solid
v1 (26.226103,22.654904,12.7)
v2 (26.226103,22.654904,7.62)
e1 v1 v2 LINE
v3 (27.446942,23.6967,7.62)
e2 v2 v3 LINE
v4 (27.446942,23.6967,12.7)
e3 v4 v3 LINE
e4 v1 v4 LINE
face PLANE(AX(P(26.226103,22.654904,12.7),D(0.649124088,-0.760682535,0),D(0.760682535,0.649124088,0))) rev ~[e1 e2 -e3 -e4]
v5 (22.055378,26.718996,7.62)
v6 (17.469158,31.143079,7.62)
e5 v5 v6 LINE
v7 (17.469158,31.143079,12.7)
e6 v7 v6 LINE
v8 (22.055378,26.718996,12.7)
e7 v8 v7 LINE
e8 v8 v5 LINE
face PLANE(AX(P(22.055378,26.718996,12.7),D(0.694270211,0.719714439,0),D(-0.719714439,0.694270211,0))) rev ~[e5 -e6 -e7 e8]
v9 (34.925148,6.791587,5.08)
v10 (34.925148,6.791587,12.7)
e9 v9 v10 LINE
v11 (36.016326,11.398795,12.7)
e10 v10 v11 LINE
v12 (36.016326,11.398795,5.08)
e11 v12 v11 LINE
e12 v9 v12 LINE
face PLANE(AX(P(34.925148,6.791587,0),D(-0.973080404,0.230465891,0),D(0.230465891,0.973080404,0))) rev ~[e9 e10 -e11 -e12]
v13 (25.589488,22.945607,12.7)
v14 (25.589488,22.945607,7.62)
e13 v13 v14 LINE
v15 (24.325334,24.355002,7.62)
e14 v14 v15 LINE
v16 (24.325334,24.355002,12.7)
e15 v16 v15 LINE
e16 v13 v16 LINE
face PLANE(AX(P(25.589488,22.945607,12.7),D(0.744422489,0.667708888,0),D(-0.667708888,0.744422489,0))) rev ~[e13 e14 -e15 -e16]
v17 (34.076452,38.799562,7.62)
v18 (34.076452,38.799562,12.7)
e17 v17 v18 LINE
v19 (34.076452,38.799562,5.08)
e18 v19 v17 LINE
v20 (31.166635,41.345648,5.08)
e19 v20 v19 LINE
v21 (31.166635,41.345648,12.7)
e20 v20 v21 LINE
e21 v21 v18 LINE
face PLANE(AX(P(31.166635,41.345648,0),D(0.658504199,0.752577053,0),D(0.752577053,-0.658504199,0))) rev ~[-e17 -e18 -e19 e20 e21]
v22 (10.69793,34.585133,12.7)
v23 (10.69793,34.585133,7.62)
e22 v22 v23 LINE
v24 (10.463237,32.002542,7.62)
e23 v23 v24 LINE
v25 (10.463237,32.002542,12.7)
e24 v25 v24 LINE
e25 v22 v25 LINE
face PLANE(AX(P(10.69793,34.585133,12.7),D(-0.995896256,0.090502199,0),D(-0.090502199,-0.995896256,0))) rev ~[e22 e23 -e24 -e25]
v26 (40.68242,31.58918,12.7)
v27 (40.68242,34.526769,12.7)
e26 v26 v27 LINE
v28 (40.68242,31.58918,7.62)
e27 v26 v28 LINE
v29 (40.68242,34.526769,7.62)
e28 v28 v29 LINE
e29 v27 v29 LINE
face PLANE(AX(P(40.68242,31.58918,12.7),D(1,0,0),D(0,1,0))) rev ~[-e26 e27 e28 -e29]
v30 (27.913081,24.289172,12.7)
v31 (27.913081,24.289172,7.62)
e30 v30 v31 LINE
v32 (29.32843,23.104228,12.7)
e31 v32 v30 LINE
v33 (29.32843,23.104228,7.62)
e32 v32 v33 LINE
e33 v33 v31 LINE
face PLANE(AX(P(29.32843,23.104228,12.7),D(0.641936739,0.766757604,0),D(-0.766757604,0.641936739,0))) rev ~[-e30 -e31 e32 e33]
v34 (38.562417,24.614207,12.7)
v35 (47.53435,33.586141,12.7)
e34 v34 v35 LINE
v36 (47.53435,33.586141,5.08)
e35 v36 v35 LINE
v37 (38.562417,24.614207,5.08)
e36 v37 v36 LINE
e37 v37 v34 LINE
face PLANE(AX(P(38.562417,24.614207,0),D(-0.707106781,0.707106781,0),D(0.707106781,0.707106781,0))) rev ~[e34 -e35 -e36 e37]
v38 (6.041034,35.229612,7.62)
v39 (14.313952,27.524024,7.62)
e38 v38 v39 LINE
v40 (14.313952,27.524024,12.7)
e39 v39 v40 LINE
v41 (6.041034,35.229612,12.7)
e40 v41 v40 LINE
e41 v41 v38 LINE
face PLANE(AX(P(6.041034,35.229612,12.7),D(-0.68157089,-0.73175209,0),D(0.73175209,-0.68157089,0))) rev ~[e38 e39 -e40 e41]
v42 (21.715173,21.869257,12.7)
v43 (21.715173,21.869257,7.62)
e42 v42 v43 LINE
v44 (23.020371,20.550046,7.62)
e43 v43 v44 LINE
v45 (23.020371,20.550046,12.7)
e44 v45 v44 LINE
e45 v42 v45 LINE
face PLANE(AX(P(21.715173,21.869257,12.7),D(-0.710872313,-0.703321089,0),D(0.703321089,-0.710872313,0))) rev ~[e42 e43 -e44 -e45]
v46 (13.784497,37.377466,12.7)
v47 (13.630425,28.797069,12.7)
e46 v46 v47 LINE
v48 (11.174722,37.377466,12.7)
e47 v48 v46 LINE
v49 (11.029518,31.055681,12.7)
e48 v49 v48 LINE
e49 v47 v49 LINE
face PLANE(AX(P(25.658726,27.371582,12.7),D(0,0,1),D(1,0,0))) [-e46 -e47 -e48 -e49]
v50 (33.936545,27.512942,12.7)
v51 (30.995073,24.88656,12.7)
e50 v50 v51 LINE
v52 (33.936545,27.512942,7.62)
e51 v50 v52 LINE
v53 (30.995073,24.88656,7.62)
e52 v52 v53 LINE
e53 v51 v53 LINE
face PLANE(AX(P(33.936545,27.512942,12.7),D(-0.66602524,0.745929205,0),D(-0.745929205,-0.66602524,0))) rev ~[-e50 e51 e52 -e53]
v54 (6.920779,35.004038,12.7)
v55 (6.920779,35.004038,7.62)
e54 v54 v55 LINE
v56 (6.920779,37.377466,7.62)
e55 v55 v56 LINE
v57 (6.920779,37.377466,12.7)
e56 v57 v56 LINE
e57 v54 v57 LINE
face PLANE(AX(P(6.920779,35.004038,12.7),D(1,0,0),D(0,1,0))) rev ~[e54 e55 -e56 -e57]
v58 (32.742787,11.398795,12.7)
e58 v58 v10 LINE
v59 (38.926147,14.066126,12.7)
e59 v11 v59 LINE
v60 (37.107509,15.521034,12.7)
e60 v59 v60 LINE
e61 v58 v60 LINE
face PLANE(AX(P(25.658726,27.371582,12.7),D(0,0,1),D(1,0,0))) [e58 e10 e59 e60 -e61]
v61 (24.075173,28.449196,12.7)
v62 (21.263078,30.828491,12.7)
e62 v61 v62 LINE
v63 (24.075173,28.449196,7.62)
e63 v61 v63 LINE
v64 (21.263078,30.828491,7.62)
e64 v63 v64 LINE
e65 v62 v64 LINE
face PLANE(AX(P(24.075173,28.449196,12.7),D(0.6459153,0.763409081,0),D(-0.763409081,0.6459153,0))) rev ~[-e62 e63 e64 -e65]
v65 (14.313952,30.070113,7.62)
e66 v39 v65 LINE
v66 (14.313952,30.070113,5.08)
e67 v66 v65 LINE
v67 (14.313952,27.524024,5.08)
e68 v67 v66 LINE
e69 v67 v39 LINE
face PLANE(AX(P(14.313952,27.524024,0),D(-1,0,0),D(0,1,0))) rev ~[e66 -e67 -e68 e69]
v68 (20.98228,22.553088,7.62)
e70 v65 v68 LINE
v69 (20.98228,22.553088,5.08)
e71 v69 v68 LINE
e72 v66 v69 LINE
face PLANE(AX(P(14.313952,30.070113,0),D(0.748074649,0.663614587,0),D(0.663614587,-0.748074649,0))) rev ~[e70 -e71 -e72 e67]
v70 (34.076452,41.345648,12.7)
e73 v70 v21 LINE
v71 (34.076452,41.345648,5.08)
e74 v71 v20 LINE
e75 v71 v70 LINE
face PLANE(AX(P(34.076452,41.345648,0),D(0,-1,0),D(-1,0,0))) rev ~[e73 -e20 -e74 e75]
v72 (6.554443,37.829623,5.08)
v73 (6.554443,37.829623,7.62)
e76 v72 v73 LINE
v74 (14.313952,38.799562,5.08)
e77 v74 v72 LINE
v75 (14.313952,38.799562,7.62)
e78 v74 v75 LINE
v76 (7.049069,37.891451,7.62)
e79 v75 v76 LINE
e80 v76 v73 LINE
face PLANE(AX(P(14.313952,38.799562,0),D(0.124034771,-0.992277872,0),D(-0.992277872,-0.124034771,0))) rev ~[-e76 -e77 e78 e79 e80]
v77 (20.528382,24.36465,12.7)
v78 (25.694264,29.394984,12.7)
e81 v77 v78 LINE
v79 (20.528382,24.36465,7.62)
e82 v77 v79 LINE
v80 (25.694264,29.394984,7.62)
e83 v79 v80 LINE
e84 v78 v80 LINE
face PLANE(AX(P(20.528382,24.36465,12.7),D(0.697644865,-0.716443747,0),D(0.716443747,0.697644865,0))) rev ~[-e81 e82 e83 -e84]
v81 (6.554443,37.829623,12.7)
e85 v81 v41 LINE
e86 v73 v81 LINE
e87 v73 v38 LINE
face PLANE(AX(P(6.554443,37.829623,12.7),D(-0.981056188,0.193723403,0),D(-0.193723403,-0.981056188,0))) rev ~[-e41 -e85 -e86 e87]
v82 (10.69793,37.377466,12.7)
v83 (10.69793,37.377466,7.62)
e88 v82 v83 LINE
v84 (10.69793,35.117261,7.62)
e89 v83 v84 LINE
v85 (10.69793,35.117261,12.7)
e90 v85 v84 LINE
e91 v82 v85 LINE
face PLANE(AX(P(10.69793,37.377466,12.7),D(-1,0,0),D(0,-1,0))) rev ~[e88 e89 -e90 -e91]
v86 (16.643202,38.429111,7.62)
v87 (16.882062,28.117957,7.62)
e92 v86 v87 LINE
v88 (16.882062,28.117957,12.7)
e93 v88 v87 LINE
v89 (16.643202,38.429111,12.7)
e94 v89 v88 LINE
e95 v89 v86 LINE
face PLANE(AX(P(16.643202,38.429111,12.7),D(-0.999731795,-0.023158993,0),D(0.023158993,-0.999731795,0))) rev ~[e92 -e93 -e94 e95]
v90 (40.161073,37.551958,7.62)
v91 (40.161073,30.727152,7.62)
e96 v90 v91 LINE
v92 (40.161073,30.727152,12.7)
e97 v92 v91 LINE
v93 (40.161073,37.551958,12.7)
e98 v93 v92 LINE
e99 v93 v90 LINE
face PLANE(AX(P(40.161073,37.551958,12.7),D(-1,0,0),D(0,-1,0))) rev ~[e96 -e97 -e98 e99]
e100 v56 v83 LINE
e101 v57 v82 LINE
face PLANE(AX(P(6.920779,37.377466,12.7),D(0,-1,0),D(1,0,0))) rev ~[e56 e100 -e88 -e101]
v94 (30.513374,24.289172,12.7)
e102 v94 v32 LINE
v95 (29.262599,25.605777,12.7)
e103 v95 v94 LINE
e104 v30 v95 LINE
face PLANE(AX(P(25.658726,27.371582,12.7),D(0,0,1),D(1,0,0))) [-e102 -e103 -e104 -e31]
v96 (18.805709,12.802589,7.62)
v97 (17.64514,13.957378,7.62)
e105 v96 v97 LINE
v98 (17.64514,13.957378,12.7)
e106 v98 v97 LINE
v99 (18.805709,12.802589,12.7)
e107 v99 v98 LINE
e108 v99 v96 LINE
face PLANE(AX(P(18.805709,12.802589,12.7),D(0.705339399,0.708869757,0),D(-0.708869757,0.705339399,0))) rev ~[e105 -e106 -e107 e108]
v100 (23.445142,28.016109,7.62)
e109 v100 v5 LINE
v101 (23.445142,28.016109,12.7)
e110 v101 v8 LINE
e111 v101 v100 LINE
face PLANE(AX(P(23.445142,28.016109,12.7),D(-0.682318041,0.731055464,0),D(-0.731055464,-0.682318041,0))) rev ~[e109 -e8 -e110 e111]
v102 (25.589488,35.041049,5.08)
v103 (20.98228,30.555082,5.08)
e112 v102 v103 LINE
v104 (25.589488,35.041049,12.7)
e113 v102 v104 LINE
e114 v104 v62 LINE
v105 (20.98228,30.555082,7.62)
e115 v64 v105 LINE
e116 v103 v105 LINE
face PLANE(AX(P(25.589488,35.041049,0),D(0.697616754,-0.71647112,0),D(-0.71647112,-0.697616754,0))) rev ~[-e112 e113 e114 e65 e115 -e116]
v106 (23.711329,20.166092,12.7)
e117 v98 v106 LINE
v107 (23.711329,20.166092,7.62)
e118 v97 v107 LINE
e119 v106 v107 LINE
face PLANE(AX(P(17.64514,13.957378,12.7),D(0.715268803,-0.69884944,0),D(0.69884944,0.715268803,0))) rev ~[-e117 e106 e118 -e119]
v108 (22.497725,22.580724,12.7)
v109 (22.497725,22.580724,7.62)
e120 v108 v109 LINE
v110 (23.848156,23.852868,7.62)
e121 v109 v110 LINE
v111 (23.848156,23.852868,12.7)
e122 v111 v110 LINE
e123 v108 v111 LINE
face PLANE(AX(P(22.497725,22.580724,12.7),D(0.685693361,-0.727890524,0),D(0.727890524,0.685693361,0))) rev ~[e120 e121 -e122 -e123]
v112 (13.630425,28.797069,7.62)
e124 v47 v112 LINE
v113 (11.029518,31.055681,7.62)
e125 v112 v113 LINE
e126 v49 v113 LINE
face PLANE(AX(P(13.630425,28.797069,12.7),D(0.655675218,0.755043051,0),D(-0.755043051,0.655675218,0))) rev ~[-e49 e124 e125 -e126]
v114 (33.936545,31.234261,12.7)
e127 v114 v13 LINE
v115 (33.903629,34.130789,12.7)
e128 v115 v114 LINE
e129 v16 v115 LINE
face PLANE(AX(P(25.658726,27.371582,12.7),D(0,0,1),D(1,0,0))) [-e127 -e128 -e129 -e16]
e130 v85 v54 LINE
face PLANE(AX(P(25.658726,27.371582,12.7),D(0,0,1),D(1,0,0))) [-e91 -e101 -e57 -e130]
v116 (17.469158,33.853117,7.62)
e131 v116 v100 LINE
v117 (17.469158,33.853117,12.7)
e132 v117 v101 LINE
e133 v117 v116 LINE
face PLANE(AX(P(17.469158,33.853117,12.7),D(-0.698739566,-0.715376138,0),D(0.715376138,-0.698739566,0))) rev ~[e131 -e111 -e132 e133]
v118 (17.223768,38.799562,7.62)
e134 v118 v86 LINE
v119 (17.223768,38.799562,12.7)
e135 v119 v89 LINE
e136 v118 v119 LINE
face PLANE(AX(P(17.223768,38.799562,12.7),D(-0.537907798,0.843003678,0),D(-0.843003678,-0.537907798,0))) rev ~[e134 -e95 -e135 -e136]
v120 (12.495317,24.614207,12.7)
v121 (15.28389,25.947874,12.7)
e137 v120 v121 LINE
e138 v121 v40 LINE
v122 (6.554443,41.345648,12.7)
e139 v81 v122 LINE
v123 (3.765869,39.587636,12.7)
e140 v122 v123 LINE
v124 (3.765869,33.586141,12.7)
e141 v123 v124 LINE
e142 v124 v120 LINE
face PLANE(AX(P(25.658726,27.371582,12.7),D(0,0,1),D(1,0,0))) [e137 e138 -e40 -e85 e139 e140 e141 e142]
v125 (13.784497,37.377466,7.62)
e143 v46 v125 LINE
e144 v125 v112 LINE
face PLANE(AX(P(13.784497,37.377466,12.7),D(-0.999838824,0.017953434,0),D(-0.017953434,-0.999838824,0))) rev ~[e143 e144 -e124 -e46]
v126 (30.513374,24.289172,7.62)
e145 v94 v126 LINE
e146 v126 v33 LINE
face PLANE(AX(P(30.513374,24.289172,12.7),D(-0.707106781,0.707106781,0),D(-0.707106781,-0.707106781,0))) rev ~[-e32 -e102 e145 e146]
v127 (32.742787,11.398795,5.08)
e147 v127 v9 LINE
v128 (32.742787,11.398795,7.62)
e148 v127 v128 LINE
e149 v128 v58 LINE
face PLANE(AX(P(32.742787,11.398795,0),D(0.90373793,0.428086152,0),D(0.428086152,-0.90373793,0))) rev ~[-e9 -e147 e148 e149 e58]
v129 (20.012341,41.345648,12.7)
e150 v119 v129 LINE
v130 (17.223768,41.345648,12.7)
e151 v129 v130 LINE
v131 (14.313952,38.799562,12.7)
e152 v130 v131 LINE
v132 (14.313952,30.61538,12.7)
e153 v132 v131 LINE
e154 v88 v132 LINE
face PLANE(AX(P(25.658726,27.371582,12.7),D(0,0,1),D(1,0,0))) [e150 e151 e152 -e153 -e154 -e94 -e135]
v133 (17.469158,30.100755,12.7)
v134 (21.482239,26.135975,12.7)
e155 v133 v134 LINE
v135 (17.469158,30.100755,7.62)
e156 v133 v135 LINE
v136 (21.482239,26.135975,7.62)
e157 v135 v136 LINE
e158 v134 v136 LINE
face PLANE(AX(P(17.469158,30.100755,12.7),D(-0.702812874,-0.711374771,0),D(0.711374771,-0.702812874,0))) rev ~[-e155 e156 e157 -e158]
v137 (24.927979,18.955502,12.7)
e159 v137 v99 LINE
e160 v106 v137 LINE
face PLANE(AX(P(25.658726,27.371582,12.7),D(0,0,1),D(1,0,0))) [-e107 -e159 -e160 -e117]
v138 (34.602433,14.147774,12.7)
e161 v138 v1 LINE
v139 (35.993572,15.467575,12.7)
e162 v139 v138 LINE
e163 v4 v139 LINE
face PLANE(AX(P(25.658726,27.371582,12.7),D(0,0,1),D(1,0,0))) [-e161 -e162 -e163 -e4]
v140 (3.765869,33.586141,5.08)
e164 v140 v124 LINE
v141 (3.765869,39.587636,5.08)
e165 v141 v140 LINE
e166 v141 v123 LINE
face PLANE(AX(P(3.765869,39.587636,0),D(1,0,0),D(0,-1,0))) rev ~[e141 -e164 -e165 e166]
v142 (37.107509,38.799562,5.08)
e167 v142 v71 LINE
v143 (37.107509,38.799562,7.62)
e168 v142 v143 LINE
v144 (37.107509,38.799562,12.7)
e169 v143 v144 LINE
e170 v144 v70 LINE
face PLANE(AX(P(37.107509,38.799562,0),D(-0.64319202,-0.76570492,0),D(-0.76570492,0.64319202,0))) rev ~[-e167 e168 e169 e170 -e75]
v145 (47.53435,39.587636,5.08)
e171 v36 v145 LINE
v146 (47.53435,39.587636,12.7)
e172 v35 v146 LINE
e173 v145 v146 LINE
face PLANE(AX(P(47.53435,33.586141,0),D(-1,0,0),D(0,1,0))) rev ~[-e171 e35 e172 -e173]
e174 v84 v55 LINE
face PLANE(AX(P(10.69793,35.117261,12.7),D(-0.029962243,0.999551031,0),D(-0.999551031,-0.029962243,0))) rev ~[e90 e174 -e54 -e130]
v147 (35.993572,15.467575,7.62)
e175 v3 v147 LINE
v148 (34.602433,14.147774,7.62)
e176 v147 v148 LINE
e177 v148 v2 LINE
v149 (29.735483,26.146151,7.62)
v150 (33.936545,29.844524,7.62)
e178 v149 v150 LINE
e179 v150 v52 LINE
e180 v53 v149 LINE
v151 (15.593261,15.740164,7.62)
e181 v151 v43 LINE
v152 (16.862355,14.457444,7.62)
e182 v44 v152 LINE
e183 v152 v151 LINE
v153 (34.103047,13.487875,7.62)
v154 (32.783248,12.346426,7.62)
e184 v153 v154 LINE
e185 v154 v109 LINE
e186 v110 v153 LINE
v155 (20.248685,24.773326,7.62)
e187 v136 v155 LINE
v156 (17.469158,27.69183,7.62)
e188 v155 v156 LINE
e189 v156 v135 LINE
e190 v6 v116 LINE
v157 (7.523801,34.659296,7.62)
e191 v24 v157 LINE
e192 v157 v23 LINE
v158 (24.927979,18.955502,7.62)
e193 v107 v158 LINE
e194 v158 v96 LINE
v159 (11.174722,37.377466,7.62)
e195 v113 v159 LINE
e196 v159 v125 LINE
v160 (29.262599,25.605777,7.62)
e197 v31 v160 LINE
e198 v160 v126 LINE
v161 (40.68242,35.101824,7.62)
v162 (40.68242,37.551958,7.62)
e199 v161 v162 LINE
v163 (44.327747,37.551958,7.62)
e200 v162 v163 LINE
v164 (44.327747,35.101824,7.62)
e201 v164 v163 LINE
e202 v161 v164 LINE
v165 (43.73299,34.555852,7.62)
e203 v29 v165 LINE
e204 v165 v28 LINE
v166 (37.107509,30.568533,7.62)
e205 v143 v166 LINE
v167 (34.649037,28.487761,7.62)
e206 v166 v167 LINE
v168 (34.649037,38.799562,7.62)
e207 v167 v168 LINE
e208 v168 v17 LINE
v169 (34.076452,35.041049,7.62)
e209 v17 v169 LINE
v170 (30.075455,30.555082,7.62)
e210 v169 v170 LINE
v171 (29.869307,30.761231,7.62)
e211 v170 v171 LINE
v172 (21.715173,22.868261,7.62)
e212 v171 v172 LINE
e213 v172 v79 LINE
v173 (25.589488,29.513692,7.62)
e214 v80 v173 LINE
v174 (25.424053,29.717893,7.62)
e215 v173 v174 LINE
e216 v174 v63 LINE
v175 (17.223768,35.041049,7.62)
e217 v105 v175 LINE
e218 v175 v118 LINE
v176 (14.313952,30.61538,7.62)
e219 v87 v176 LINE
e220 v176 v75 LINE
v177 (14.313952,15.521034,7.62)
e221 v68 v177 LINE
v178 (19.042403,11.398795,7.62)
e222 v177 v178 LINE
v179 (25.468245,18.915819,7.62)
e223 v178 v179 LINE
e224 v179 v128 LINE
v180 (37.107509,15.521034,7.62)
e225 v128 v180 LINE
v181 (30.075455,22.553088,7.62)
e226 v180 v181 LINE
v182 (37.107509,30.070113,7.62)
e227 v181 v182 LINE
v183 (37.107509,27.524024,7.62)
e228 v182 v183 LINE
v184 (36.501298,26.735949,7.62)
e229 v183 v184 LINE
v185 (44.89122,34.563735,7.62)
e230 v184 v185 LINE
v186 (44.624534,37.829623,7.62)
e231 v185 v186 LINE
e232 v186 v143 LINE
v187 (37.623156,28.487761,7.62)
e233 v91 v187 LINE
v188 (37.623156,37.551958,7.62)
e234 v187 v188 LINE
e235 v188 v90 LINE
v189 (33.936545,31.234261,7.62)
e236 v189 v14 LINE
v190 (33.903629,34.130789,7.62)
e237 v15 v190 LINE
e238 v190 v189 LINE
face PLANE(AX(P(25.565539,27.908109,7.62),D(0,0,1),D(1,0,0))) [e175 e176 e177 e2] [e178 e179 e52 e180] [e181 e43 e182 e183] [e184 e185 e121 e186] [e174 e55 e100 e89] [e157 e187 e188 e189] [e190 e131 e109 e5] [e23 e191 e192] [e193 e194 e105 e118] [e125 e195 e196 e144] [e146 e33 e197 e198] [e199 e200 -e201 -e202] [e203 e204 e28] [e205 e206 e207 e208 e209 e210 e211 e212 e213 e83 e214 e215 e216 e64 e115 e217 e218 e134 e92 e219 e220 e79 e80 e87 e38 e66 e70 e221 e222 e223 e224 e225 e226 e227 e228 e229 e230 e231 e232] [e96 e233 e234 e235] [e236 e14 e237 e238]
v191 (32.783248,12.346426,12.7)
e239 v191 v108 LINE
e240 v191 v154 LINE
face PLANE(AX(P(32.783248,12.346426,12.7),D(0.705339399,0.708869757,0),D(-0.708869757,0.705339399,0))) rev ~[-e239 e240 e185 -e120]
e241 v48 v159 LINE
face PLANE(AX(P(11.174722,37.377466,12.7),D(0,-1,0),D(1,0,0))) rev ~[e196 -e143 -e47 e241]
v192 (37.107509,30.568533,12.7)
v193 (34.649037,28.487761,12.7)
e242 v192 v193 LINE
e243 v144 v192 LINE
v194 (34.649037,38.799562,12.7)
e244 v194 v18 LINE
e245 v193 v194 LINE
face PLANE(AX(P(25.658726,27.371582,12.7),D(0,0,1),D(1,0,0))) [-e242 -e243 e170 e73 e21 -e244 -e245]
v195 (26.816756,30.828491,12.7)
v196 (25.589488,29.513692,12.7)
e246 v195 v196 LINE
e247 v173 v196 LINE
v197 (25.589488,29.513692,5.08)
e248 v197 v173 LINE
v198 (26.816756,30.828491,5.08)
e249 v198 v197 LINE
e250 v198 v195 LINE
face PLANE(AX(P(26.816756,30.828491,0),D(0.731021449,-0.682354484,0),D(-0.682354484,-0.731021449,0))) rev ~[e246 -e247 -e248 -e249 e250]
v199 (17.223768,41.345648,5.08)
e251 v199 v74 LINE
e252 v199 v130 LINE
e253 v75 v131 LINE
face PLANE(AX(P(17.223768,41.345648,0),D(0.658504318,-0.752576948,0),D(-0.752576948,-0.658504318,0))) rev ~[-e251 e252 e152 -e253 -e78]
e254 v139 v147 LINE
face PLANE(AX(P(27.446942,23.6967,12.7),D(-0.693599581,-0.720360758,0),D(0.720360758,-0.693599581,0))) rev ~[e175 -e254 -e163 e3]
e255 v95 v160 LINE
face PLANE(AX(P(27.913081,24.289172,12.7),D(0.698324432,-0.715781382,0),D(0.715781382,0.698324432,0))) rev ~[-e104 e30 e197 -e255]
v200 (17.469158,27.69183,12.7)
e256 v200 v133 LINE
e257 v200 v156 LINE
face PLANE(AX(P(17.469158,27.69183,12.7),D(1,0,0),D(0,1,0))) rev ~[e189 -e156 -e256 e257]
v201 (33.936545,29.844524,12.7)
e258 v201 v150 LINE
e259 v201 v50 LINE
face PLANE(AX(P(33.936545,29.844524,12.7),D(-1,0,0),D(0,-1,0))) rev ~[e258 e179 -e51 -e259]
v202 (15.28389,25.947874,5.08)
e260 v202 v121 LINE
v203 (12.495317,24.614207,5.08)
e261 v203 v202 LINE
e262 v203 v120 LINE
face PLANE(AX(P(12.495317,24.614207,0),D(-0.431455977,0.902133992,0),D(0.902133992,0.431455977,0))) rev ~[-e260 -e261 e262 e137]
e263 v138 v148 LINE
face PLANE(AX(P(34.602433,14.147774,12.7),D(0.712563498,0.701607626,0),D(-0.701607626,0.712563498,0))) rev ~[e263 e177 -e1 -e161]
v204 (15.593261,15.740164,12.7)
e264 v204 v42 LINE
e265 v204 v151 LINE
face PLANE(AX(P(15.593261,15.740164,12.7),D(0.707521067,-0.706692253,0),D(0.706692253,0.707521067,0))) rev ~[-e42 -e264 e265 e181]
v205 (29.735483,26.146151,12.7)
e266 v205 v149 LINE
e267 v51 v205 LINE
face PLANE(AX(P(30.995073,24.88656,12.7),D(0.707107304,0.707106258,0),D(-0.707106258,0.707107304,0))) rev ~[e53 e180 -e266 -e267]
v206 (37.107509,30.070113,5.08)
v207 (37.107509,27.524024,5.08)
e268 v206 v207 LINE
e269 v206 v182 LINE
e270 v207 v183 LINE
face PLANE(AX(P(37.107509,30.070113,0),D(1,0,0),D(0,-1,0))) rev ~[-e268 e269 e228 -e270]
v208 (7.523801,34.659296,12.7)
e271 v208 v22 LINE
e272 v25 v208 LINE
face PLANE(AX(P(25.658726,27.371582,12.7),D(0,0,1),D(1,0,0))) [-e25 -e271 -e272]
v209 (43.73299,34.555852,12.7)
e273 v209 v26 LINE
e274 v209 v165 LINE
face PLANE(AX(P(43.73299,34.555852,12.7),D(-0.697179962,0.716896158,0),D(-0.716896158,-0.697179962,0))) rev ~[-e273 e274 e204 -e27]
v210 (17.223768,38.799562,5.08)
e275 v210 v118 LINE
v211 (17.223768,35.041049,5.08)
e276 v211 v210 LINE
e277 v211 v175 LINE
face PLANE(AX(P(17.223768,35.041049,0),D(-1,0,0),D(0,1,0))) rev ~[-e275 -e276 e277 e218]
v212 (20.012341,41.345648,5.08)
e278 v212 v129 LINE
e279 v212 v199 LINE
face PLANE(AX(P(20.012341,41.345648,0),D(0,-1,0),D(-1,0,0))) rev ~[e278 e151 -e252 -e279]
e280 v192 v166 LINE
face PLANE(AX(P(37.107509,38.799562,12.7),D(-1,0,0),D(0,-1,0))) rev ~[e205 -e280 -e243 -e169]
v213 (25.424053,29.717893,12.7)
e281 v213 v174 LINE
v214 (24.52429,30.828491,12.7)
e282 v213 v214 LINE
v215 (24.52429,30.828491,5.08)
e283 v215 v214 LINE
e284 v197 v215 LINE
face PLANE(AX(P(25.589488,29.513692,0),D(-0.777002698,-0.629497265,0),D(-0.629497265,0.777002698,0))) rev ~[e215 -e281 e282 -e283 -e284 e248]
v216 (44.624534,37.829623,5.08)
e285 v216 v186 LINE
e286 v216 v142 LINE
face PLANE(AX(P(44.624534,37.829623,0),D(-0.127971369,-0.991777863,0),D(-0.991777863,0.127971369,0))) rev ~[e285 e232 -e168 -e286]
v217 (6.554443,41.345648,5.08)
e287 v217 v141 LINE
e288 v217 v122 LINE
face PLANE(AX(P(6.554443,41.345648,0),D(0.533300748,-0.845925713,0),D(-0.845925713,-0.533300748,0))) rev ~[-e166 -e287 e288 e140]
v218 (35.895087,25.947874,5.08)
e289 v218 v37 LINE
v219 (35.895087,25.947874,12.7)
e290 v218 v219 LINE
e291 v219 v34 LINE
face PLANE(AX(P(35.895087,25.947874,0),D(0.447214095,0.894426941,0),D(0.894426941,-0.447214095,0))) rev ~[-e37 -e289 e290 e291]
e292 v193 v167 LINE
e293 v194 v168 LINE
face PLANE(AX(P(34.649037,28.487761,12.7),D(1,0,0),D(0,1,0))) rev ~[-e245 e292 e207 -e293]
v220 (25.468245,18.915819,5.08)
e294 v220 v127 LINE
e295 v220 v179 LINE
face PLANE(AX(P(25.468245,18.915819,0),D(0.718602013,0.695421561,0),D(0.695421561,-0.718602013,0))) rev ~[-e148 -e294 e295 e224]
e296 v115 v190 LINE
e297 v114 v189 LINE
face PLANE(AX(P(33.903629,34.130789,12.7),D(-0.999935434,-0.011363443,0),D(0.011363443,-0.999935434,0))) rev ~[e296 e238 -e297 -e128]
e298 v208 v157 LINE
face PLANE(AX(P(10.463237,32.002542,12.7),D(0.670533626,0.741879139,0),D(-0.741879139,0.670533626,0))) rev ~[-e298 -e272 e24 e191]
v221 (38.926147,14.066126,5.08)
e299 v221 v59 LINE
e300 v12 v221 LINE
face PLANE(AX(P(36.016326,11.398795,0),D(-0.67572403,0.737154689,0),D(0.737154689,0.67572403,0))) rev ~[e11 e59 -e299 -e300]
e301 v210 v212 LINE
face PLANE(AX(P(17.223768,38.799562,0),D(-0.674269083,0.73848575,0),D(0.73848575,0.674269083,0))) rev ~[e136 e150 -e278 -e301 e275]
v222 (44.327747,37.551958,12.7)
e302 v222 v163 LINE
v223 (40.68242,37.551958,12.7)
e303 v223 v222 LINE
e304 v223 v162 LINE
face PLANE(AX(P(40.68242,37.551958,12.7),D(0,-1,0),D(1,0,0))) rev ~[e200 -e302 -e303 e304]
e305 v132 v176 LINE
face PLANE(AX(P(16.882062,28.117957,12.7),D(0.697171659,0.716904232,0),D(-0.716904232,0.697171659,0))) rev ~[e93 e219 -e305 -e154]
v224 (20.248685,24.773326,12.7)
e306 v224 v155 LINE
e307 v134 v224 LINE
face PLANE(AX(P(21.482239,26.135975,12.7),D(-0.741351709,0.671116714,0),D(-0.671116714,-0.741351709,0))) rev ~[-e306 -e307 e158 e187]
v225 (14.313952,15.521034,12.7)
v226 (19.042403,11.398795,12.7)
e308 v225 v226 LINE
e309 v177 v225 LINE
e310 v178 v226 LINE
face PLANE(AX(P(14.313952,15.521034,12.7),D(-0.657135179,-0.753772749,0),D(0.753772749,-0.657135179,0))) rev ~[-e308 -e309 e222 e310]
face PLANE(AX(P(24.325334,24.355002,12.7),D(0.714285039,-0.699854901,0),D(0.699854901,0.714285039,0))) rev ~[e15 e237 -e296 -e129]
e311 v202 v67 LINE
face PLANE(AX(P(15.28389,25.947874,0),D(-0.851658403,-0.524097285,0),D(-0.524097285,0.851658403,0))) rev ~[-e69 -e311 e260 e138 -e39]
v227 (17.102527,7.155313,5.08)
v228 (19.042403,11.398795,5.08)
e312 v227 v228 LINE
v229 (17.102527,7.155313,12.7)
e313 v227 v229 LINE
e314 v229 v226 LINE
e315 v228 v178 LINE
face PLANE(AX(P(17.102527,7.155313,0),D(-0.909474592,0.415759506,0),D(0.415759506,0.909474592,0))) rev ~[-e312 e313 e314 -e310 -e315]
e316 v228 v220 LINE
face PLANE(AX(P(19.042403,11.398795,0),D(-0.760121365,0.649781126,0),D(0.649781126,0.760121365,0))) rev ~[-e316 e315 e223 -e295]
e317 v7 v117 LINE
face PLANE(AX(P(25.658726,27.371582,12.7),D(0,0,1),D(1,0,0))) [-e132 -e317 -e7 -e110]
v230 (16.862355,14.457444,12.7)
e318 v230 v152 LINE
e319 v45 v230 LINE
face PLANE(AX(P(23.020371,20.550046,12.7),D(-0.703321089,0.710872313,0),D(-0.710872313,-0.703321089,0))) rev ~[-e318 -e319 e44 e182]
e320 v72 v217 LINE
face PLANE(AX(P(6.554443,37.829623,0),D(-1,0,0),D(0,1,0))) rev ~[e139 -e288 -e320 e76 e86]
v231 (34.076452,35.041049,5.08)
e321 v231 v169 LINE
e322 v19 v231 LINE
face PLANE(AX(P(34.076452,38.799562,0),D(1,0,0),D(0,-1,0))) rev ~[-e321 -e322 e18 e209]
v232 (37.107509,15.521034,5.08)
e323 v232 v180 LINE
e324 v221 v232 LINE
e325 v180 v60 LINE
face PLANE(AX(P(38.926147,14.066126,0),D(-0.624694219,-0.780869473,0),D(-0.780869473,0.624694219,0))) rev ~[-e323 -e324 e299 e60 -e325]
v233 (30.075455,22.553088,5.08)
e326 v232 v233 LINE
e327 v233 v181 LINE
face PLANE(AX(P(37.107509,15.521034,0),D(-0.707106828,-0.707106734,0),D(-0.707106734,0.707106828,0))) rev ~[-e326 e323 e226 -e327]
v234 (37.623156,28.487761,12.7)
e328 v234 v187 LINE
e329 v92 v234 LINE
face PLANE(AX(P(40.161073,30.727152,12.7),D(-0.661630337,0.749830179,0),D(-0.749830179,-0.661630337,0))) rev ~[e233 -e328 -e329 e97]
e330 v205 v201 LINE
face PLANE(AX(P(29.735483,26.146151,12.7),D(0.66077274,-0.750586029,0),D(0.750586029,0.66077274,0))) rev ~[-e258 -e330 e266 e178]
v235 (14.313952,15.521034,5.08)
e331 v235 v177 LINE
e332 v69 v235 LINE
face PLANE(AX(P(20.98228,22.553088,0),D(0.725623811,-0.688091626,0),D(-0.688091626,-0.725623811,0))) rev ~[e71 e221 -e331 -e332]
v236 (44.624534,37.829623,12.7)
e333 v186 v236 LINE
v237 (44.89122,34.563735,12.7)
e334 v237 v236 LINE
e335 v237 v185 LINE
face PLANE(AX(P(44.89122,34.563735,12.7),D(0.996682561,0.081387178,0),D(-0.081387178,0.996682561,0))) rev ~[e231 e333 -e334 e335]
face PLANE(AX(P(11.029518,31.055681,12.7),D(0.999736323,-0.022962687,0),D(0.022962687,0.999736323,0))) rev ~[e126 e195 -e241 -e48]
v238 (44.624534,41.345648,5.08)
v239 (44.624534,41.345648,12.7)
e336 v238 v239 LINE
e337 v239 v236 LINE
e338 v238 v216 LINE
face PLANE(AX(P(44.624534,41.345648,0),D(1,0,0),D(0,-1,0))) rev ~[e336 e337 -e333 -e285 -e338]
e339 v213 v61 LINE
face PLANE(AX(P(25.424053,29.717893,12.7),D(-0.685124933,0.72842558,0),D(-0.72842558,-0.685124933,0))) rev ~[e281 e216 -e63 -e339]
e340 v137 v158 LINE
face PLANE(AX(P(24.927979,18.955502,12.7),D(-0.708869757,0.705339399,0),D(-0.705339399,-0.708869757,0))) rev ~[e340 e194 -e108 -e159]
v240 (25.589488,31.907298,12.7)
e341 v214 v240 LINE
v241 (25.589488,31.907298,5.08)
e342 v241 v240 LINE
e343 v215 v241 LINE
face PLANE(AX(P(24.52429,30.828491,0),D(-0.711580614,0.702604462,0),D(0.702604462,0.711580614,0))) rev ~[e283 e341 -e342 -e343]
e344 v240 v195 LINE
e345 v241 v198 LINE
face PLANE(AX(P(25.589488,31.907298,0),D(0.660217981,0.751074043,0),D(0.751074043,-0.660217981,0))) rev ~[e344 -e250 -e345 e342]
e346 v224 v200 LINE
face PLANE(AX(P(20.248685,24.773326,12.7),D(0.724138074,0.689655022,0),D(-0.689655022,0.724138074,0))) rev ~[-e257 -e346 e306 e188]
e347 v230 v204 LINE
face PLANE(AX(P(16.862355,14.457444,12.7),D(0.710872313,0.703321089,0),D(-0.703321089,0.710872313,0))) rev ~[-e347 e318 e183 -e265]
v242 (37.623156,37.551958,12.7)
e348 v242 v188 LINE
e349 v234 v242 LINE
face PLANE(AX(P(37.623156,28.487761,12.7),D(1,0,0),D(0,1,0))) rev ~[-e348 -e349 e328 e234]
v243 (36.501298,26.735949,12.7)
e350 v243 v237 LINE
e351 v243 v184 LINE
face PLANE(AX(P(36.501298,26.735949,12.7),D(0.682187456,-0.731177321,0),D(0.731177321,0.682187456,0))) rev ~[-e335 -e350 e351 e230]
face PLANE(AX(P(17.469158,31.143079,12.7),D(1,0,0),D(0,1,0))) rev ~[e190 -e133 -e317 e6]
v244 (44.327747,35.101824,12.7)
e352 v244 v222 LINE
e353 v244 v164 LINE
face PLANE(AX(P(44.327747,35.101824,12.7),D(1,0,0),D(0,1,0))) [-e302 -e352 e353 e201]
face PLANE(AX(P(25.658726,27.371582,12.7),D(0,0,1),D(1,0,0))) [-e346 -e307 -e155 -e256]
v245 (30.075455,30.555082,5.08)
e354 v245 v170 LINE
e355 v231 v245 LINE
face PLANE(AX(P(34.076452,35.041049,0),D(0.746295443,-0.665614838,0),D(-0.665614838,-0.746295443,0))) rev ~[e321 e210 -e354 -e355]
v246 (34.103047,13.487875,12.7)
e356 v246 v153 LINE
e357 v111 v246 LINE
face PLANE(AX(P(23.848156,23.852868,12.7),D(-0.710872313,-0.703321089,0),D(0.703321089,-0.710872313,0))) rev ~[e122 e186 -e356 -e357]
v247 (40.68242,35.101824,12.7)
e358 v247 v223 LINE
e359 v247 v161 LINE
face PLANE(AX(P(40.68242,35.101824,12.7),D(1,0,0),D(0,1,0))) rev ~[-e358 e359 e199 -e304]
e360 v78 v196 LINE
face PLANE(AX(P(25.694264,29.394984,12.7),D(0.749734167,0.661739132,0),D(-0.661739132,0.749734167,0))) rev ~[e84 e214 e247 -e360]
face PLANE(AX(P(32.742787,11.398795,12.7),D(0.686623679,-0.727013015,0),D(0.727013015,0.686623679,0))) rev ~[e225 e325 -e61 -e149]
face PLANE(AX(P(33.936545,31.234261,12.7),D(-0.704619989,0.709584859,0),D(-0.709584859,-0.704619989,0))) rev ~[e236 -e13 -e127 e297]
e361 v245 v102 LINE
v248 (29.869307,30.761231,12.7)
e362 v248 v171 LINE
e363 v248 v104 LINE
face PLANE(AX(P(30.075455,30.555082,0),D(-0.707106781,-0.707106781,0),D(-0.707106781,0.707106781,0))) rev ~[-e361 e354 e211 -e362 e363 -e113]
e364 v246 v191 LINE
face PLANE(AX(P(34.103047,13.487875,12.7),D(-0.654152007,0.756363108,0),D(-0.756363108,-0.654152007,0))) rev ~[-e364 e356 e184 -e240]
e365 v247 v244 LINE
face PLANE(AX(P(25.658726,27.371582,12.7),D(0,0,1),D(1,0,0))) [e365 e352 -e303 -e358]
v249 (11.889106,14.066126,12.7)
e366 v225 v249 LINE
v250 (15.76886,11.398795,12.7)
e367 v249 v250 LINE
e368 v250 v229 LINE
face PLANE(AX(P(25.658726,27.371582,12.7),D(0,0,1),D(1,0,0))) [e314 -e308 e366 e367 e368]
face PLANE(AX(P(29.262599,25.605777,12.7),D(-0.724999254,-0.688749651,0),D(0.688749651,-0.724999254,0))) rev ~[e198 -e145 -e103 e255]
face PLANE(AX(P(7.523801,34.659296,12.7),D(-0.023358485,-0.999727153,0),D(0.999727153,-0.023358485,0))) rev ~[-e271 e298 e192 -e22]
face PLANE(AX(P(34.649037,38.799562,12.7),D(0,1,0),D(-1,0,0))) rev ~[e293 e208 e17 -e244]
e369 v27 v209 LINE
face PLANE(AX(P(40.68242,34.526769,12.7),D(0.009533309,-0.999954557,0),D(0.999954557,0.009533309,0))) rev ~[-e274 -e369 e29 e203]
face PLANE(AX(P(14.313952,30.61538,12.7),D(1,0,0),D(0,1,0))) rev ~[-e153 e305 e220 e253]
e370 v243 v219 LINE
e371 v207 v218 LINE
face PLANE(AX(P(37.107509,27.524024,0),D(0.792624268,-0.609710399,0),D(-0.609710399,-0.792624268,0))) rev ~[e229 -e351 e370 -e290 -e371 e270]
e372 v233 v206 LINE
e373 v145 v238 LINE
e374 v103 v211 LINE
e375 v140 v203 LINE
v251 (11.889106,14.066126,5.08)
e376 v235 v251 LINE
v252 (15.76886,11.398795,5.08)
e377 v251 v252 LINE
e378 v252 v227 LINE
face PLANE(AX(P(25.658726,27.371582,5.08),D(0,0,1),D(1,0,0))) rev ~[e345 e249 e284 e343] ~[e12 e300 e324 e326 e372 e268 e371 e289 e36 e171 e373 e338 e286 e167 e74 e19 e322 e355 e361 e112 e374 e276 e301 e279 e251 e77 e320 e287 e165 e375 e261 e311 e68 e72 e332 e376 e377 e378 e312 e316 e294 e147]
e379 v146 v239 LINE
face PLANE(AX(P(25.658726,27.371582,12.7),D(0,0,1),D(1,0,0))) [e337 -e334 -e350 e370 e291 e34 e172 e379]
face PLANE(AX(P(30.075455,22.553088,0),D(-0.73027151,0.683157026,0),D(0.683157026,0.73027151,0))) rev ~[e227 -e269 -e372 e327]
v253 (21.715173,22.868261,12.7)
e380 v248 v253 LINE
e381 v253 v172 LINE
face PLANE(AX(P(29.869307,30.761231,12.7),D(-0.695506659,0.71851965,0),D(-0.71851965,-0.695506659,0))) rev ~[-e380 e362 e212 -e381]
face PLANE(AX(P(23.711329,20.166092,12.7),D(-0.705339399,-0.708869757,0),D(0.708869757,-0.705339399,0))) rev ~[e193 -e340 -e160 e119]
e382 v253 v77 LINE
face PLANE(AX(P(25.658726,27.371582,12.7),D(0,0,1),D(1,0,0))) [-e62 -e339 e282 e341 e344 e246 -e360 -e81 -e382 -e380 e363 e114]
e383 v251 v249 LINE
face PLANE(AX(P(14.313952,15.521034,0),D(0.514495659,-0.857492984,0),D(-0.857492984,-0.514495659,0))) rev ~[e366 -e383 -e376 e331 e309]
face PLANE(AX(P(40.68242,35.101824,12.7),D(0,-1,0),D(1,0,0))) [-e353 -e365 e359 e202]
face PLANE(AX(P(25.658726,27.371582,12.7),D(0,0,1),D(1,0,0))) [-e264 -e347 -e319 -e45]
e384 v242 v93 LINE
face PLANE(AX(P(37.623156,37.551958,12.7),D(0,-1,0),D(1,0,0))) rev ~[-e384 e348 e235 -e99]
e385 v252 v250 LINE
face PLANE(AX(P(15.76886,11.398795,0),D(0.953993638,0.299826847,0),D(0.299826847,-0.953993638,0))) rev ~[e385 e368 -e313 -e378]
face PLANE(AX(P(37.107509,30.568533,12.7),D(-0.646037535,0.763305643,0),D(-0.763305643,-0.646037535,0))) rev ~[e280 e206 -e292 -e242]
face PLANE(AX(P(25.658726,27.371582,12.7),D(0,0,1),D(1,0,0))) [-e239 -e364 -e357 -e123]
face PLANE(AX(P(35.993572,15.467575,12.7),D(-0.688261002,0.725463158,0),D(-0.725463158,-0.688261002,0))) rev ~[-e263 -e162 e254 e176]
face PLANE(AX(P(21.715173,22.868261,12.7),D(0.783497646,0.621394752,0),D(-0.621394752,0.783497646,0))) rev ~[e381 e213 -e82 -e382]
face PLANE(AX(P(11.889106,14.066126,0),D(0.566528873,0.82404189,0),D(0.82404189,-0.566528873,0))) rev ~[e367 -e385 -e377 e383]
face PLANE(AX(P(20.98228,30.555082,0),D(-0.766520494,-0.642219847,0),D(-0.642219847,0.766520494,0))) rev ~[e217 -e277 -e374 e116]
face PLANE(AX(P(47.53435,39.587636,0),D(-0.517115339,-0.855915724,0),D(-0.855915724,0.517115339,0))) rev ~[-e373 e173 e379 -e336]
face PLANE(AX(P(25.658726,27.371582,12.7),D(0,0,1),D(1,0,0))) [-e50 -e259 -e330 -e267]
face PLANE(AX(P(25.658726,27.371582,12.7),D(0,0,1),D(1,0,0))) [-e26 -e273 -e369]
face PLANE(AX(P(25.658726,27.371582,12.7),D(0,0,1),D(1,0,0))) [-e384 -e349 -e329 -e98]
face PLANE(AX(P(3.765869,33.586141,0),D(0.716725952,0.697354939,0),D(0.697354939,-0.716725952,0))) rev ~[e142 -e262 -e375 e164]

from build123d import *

# Parameters (mm, degrees)
F1_DEPTH = 12.7
F2_W     = 3.6453269422
F2_H     = 2.4501346052
F3_DEPTH = 5.08
F4_DEPTH = 5.08


with BuildPart() as f1:
    # F0 (on Top) → F1 (new body)
    with BuildSketch(Plane.XY):
        Polygon((6.5544429235, 37.8296226263), (6.5544429235, 41.3456484675), (3.76586942, 39.5876355469), (3.76586942, 33.586140722), (12.4953174964, 24.6142074466), (15.2838900685, 25.9478744119), (14.313952066, 27.5240242481), (14.313952066, 30.0701130182), (20.9822803736, 22.5530881435), (14.313952066, 15.521033667), (11.8891056627, 14.0661261976), (15.7688595355, 11.3987950608), (17.1025265008, 7.1553131565), (19.0424025059, 11.3987950608), (25.4682451487, 18.9158190042), (32.7427871525, 11.3987950608), (34.925147891, 6.791586522), (36.0163263977, 11.3987950608), (38.9261469245, 14.0661261976), (37.1075086296, 15.521033667), (30.0754550844, 22.5530881435), (37.1075086296, 30.0701130182), (37.1075086296, 27.5240242481), (35.8950868249, 25.9478744119), (38.5624170303, 24.6142074466), (47.5343503058, 33.586140722), (47.5343503058, 39.5876355469), (44.6245335042, 41.3456484675), (44.6245335042, 37.8296226263), (37.1075086296, 38.7995615602), (34.0764522552, 41.3456484675), (31.1666354537, 41.3456484675), (34.0764522552, 38.7995615602), (34.0764522552, 35.0410491228), (30.0754550844, 30.5550824851), (25.5894884467, 35.0410491228), (20.9822803736, 30.5550824851), (17.2237679362, 35.0410491228), (17.2237679362, 38.7995615602), (20.0123414397, 41.3456484675), (17.2237679362, 41.3456484675), (14.313952066, 38.7995615602), align=None)
        Polygon((24.5242901146, 30.8284908533), (25.5894884467, 31.9072976708), (26.8167555332, 30.8284908533), (25.5894884467, 29.5136924833), align=None, mode=Mode.SUBTRACT)
    extrude(amount=F1_DEPTH)

    # F2 (on face) → F3 (cut)
    with BuildSketch(Plane.XY.offset(12.7)):
        Polygon((7.0490693162, 37.8914509439), (6.5544429235, 37.8296226263), (6.0410341248, 35.2296121418), (14.313952066, 27.5240242481), (14.313952066, 30.0701130182), (20.9822803736, 22.5530881435), (14.313952066, 15.521033667), (19.0424025059, 11.3987950608), (25.4682451487, 18.9158190042), (32.7427871525, 11.3987950608), (37.1075086296, 15.521033667), (30.0754550844, 22.5530881435), (37.1075086296, 30.0701130182), (37.1075086296, 27.5240242481), (36.5012977272, 26.73594933), (44.8912195861, 34.5637351274), (44.6245335042, 37.8296226263), (37.1075086296, 38.7995615602), (37.1075086296, 30.5685326457), (34.6490368247, 28.4877605736), (34.6490368247, 30.5685326457), (34.6490368247, 38.7995615602), (34.0764522552, 38.7995615602), (34.0764522552, 35.0410491228), (30.0754550844, 30.5550824851), (29.8693068326, 30.761230737), (21.7151734978, 22.8682607412), (20.5283816904, 24.3646502495), (25.694264099, 29.3949842453), (25.5894884467, 29.5136924833), (25.4240528691, 29.7178933549), (24.0751728415, 28.4491963685), (21.2630781019, 30.8284908533), (20.9822803736, 30.5550824851), (17.2237679362, 35.0410491228), (17.2237679362, 38.7995615602), (16.6432019323, 38.4291112423), (16.8820619583, 28.1179565936), (14.313952066, 30.6153800339), (14.313952066, 38.7995615602), align=None)
        Polygon((15.5932606215, 15.7401643943), (21.7151734978, 21.8692570925), (23.0203711557, 20.550046149), (16.8623554934, 14.4574438554), align=None, mode=Mode.SUBTRACT)
        Polygon((17.6451402405, 13.9573783364), (23.711329326, 20.1660916209), (24.9279786679, 18.9555015123), (18.8057093955, 12.8025891205), align=None, mode=Mode.SUBTRACT)
        Polygon((32.7832475305, 12.346426025), (22.4977247417, 22.5807242095), (23.8481555134, 23.8528680056), (34.1030471027, 13.4878745303), align=None, mode=Mode.SUBTRACT)
        Polygon((26.2261033058, 22.6549040526), (27.4469424039, 23.696700111), (35.9935723245, 15.4675748199), (34.6024334431, 14.1477743164), align=None, mode=Mode.SUBTRACT)
        Polygon((17.4691583961, 27.6918299496), (17.4691583961, 30.1007553935), (21.482238546, 26.135975495), (20.2486850321, 24.7733257711), align=None, mode=Mode.SUBTRACT)
        Polygon((17.4691583961, 31.1430785805), (17.4691583961, 33.8531173766), (23.445142433, 28.0161090195), (22.0553781837, 26.7189964652), align=None, mode=Mode.SUBTRACT)
        Polygon((7.5238011777, 34.6592962742), (10.6979301199, 34.5851331949), (10.4632368311, 32.0025421679), align=None, mode=Mode.SUBTRACT)
        Polygon((6.9207791239, 35.0040383637), (6.9207791239, 37.3774655163), (10.6979301199, 37.3774655163), (10.6979301199, 35.1172611117), align=None, mode=Mode.SUBTRACT)
        Polygon((13.6304246262, 28.7970686331), (11.0295182094, 31.0556814075), (11.1747216433, 37.3774655163), (13.784497045, 37.3774655163), align=None, mode=Mode.SUBTRACT)
        Polygon((27.9130805284, 24.2891721427), (29.262598604, 25.6057772785), (30.5133741349, 24.2891721427), (29.3284300715, 23.1042280793), align=None, mode=Mode.SUBTRACT)
        Polygon((30.9950727969, 24.886559695), (29.7354832292, 26.1461511254), (33.9365452528, 29.8445243388), (33.9365452528, 27.5129415095), align=None, mode=Mode.SUBTRACT)
        Polygon((24.3253335357, 24.3550017476), (33.9036285877, 34.1307893395), (33.9365452528, 31.2342606485), (25.5894884467, 22.9456070811), align=None, mode=Mode.SUBTRACT)
        Polygon((37.6231558621, 30.7271517813), (37.6231558621, 37.5519581139), (40.1610732079, 37.5519581139), (40.1610732079, 30.7271517813), (37.6231558621, 28.4877605736), align=None, mode=Mode.SUBTRACT)
        Polygon((40.6824201345, 34.5267690718), (43.7329895794, 34.5558524132), (40.6824201345, 31.5891802311), align=None, mode=Mode.SUBTRACT)
        with Locations((42.5050836056, 36.3268908113)):
            Rectangle(F2_W, F2_H, mode=Mode.SUBTRACT)
    extrude(amount=-F3_DEPTH, mode=Mode.SUBTRACT)

    # F4 (cut): a face of the model
    f4_faces = [f1.faces().sort_by_distance(p)[0] for p in [
        (25.6298789879, 27.4747864978, 0),
    ]]
    extrude(f4_faces, amount=-F4_DEPTH, mode=Mode.SUBTRACT)


solid = f1.part
